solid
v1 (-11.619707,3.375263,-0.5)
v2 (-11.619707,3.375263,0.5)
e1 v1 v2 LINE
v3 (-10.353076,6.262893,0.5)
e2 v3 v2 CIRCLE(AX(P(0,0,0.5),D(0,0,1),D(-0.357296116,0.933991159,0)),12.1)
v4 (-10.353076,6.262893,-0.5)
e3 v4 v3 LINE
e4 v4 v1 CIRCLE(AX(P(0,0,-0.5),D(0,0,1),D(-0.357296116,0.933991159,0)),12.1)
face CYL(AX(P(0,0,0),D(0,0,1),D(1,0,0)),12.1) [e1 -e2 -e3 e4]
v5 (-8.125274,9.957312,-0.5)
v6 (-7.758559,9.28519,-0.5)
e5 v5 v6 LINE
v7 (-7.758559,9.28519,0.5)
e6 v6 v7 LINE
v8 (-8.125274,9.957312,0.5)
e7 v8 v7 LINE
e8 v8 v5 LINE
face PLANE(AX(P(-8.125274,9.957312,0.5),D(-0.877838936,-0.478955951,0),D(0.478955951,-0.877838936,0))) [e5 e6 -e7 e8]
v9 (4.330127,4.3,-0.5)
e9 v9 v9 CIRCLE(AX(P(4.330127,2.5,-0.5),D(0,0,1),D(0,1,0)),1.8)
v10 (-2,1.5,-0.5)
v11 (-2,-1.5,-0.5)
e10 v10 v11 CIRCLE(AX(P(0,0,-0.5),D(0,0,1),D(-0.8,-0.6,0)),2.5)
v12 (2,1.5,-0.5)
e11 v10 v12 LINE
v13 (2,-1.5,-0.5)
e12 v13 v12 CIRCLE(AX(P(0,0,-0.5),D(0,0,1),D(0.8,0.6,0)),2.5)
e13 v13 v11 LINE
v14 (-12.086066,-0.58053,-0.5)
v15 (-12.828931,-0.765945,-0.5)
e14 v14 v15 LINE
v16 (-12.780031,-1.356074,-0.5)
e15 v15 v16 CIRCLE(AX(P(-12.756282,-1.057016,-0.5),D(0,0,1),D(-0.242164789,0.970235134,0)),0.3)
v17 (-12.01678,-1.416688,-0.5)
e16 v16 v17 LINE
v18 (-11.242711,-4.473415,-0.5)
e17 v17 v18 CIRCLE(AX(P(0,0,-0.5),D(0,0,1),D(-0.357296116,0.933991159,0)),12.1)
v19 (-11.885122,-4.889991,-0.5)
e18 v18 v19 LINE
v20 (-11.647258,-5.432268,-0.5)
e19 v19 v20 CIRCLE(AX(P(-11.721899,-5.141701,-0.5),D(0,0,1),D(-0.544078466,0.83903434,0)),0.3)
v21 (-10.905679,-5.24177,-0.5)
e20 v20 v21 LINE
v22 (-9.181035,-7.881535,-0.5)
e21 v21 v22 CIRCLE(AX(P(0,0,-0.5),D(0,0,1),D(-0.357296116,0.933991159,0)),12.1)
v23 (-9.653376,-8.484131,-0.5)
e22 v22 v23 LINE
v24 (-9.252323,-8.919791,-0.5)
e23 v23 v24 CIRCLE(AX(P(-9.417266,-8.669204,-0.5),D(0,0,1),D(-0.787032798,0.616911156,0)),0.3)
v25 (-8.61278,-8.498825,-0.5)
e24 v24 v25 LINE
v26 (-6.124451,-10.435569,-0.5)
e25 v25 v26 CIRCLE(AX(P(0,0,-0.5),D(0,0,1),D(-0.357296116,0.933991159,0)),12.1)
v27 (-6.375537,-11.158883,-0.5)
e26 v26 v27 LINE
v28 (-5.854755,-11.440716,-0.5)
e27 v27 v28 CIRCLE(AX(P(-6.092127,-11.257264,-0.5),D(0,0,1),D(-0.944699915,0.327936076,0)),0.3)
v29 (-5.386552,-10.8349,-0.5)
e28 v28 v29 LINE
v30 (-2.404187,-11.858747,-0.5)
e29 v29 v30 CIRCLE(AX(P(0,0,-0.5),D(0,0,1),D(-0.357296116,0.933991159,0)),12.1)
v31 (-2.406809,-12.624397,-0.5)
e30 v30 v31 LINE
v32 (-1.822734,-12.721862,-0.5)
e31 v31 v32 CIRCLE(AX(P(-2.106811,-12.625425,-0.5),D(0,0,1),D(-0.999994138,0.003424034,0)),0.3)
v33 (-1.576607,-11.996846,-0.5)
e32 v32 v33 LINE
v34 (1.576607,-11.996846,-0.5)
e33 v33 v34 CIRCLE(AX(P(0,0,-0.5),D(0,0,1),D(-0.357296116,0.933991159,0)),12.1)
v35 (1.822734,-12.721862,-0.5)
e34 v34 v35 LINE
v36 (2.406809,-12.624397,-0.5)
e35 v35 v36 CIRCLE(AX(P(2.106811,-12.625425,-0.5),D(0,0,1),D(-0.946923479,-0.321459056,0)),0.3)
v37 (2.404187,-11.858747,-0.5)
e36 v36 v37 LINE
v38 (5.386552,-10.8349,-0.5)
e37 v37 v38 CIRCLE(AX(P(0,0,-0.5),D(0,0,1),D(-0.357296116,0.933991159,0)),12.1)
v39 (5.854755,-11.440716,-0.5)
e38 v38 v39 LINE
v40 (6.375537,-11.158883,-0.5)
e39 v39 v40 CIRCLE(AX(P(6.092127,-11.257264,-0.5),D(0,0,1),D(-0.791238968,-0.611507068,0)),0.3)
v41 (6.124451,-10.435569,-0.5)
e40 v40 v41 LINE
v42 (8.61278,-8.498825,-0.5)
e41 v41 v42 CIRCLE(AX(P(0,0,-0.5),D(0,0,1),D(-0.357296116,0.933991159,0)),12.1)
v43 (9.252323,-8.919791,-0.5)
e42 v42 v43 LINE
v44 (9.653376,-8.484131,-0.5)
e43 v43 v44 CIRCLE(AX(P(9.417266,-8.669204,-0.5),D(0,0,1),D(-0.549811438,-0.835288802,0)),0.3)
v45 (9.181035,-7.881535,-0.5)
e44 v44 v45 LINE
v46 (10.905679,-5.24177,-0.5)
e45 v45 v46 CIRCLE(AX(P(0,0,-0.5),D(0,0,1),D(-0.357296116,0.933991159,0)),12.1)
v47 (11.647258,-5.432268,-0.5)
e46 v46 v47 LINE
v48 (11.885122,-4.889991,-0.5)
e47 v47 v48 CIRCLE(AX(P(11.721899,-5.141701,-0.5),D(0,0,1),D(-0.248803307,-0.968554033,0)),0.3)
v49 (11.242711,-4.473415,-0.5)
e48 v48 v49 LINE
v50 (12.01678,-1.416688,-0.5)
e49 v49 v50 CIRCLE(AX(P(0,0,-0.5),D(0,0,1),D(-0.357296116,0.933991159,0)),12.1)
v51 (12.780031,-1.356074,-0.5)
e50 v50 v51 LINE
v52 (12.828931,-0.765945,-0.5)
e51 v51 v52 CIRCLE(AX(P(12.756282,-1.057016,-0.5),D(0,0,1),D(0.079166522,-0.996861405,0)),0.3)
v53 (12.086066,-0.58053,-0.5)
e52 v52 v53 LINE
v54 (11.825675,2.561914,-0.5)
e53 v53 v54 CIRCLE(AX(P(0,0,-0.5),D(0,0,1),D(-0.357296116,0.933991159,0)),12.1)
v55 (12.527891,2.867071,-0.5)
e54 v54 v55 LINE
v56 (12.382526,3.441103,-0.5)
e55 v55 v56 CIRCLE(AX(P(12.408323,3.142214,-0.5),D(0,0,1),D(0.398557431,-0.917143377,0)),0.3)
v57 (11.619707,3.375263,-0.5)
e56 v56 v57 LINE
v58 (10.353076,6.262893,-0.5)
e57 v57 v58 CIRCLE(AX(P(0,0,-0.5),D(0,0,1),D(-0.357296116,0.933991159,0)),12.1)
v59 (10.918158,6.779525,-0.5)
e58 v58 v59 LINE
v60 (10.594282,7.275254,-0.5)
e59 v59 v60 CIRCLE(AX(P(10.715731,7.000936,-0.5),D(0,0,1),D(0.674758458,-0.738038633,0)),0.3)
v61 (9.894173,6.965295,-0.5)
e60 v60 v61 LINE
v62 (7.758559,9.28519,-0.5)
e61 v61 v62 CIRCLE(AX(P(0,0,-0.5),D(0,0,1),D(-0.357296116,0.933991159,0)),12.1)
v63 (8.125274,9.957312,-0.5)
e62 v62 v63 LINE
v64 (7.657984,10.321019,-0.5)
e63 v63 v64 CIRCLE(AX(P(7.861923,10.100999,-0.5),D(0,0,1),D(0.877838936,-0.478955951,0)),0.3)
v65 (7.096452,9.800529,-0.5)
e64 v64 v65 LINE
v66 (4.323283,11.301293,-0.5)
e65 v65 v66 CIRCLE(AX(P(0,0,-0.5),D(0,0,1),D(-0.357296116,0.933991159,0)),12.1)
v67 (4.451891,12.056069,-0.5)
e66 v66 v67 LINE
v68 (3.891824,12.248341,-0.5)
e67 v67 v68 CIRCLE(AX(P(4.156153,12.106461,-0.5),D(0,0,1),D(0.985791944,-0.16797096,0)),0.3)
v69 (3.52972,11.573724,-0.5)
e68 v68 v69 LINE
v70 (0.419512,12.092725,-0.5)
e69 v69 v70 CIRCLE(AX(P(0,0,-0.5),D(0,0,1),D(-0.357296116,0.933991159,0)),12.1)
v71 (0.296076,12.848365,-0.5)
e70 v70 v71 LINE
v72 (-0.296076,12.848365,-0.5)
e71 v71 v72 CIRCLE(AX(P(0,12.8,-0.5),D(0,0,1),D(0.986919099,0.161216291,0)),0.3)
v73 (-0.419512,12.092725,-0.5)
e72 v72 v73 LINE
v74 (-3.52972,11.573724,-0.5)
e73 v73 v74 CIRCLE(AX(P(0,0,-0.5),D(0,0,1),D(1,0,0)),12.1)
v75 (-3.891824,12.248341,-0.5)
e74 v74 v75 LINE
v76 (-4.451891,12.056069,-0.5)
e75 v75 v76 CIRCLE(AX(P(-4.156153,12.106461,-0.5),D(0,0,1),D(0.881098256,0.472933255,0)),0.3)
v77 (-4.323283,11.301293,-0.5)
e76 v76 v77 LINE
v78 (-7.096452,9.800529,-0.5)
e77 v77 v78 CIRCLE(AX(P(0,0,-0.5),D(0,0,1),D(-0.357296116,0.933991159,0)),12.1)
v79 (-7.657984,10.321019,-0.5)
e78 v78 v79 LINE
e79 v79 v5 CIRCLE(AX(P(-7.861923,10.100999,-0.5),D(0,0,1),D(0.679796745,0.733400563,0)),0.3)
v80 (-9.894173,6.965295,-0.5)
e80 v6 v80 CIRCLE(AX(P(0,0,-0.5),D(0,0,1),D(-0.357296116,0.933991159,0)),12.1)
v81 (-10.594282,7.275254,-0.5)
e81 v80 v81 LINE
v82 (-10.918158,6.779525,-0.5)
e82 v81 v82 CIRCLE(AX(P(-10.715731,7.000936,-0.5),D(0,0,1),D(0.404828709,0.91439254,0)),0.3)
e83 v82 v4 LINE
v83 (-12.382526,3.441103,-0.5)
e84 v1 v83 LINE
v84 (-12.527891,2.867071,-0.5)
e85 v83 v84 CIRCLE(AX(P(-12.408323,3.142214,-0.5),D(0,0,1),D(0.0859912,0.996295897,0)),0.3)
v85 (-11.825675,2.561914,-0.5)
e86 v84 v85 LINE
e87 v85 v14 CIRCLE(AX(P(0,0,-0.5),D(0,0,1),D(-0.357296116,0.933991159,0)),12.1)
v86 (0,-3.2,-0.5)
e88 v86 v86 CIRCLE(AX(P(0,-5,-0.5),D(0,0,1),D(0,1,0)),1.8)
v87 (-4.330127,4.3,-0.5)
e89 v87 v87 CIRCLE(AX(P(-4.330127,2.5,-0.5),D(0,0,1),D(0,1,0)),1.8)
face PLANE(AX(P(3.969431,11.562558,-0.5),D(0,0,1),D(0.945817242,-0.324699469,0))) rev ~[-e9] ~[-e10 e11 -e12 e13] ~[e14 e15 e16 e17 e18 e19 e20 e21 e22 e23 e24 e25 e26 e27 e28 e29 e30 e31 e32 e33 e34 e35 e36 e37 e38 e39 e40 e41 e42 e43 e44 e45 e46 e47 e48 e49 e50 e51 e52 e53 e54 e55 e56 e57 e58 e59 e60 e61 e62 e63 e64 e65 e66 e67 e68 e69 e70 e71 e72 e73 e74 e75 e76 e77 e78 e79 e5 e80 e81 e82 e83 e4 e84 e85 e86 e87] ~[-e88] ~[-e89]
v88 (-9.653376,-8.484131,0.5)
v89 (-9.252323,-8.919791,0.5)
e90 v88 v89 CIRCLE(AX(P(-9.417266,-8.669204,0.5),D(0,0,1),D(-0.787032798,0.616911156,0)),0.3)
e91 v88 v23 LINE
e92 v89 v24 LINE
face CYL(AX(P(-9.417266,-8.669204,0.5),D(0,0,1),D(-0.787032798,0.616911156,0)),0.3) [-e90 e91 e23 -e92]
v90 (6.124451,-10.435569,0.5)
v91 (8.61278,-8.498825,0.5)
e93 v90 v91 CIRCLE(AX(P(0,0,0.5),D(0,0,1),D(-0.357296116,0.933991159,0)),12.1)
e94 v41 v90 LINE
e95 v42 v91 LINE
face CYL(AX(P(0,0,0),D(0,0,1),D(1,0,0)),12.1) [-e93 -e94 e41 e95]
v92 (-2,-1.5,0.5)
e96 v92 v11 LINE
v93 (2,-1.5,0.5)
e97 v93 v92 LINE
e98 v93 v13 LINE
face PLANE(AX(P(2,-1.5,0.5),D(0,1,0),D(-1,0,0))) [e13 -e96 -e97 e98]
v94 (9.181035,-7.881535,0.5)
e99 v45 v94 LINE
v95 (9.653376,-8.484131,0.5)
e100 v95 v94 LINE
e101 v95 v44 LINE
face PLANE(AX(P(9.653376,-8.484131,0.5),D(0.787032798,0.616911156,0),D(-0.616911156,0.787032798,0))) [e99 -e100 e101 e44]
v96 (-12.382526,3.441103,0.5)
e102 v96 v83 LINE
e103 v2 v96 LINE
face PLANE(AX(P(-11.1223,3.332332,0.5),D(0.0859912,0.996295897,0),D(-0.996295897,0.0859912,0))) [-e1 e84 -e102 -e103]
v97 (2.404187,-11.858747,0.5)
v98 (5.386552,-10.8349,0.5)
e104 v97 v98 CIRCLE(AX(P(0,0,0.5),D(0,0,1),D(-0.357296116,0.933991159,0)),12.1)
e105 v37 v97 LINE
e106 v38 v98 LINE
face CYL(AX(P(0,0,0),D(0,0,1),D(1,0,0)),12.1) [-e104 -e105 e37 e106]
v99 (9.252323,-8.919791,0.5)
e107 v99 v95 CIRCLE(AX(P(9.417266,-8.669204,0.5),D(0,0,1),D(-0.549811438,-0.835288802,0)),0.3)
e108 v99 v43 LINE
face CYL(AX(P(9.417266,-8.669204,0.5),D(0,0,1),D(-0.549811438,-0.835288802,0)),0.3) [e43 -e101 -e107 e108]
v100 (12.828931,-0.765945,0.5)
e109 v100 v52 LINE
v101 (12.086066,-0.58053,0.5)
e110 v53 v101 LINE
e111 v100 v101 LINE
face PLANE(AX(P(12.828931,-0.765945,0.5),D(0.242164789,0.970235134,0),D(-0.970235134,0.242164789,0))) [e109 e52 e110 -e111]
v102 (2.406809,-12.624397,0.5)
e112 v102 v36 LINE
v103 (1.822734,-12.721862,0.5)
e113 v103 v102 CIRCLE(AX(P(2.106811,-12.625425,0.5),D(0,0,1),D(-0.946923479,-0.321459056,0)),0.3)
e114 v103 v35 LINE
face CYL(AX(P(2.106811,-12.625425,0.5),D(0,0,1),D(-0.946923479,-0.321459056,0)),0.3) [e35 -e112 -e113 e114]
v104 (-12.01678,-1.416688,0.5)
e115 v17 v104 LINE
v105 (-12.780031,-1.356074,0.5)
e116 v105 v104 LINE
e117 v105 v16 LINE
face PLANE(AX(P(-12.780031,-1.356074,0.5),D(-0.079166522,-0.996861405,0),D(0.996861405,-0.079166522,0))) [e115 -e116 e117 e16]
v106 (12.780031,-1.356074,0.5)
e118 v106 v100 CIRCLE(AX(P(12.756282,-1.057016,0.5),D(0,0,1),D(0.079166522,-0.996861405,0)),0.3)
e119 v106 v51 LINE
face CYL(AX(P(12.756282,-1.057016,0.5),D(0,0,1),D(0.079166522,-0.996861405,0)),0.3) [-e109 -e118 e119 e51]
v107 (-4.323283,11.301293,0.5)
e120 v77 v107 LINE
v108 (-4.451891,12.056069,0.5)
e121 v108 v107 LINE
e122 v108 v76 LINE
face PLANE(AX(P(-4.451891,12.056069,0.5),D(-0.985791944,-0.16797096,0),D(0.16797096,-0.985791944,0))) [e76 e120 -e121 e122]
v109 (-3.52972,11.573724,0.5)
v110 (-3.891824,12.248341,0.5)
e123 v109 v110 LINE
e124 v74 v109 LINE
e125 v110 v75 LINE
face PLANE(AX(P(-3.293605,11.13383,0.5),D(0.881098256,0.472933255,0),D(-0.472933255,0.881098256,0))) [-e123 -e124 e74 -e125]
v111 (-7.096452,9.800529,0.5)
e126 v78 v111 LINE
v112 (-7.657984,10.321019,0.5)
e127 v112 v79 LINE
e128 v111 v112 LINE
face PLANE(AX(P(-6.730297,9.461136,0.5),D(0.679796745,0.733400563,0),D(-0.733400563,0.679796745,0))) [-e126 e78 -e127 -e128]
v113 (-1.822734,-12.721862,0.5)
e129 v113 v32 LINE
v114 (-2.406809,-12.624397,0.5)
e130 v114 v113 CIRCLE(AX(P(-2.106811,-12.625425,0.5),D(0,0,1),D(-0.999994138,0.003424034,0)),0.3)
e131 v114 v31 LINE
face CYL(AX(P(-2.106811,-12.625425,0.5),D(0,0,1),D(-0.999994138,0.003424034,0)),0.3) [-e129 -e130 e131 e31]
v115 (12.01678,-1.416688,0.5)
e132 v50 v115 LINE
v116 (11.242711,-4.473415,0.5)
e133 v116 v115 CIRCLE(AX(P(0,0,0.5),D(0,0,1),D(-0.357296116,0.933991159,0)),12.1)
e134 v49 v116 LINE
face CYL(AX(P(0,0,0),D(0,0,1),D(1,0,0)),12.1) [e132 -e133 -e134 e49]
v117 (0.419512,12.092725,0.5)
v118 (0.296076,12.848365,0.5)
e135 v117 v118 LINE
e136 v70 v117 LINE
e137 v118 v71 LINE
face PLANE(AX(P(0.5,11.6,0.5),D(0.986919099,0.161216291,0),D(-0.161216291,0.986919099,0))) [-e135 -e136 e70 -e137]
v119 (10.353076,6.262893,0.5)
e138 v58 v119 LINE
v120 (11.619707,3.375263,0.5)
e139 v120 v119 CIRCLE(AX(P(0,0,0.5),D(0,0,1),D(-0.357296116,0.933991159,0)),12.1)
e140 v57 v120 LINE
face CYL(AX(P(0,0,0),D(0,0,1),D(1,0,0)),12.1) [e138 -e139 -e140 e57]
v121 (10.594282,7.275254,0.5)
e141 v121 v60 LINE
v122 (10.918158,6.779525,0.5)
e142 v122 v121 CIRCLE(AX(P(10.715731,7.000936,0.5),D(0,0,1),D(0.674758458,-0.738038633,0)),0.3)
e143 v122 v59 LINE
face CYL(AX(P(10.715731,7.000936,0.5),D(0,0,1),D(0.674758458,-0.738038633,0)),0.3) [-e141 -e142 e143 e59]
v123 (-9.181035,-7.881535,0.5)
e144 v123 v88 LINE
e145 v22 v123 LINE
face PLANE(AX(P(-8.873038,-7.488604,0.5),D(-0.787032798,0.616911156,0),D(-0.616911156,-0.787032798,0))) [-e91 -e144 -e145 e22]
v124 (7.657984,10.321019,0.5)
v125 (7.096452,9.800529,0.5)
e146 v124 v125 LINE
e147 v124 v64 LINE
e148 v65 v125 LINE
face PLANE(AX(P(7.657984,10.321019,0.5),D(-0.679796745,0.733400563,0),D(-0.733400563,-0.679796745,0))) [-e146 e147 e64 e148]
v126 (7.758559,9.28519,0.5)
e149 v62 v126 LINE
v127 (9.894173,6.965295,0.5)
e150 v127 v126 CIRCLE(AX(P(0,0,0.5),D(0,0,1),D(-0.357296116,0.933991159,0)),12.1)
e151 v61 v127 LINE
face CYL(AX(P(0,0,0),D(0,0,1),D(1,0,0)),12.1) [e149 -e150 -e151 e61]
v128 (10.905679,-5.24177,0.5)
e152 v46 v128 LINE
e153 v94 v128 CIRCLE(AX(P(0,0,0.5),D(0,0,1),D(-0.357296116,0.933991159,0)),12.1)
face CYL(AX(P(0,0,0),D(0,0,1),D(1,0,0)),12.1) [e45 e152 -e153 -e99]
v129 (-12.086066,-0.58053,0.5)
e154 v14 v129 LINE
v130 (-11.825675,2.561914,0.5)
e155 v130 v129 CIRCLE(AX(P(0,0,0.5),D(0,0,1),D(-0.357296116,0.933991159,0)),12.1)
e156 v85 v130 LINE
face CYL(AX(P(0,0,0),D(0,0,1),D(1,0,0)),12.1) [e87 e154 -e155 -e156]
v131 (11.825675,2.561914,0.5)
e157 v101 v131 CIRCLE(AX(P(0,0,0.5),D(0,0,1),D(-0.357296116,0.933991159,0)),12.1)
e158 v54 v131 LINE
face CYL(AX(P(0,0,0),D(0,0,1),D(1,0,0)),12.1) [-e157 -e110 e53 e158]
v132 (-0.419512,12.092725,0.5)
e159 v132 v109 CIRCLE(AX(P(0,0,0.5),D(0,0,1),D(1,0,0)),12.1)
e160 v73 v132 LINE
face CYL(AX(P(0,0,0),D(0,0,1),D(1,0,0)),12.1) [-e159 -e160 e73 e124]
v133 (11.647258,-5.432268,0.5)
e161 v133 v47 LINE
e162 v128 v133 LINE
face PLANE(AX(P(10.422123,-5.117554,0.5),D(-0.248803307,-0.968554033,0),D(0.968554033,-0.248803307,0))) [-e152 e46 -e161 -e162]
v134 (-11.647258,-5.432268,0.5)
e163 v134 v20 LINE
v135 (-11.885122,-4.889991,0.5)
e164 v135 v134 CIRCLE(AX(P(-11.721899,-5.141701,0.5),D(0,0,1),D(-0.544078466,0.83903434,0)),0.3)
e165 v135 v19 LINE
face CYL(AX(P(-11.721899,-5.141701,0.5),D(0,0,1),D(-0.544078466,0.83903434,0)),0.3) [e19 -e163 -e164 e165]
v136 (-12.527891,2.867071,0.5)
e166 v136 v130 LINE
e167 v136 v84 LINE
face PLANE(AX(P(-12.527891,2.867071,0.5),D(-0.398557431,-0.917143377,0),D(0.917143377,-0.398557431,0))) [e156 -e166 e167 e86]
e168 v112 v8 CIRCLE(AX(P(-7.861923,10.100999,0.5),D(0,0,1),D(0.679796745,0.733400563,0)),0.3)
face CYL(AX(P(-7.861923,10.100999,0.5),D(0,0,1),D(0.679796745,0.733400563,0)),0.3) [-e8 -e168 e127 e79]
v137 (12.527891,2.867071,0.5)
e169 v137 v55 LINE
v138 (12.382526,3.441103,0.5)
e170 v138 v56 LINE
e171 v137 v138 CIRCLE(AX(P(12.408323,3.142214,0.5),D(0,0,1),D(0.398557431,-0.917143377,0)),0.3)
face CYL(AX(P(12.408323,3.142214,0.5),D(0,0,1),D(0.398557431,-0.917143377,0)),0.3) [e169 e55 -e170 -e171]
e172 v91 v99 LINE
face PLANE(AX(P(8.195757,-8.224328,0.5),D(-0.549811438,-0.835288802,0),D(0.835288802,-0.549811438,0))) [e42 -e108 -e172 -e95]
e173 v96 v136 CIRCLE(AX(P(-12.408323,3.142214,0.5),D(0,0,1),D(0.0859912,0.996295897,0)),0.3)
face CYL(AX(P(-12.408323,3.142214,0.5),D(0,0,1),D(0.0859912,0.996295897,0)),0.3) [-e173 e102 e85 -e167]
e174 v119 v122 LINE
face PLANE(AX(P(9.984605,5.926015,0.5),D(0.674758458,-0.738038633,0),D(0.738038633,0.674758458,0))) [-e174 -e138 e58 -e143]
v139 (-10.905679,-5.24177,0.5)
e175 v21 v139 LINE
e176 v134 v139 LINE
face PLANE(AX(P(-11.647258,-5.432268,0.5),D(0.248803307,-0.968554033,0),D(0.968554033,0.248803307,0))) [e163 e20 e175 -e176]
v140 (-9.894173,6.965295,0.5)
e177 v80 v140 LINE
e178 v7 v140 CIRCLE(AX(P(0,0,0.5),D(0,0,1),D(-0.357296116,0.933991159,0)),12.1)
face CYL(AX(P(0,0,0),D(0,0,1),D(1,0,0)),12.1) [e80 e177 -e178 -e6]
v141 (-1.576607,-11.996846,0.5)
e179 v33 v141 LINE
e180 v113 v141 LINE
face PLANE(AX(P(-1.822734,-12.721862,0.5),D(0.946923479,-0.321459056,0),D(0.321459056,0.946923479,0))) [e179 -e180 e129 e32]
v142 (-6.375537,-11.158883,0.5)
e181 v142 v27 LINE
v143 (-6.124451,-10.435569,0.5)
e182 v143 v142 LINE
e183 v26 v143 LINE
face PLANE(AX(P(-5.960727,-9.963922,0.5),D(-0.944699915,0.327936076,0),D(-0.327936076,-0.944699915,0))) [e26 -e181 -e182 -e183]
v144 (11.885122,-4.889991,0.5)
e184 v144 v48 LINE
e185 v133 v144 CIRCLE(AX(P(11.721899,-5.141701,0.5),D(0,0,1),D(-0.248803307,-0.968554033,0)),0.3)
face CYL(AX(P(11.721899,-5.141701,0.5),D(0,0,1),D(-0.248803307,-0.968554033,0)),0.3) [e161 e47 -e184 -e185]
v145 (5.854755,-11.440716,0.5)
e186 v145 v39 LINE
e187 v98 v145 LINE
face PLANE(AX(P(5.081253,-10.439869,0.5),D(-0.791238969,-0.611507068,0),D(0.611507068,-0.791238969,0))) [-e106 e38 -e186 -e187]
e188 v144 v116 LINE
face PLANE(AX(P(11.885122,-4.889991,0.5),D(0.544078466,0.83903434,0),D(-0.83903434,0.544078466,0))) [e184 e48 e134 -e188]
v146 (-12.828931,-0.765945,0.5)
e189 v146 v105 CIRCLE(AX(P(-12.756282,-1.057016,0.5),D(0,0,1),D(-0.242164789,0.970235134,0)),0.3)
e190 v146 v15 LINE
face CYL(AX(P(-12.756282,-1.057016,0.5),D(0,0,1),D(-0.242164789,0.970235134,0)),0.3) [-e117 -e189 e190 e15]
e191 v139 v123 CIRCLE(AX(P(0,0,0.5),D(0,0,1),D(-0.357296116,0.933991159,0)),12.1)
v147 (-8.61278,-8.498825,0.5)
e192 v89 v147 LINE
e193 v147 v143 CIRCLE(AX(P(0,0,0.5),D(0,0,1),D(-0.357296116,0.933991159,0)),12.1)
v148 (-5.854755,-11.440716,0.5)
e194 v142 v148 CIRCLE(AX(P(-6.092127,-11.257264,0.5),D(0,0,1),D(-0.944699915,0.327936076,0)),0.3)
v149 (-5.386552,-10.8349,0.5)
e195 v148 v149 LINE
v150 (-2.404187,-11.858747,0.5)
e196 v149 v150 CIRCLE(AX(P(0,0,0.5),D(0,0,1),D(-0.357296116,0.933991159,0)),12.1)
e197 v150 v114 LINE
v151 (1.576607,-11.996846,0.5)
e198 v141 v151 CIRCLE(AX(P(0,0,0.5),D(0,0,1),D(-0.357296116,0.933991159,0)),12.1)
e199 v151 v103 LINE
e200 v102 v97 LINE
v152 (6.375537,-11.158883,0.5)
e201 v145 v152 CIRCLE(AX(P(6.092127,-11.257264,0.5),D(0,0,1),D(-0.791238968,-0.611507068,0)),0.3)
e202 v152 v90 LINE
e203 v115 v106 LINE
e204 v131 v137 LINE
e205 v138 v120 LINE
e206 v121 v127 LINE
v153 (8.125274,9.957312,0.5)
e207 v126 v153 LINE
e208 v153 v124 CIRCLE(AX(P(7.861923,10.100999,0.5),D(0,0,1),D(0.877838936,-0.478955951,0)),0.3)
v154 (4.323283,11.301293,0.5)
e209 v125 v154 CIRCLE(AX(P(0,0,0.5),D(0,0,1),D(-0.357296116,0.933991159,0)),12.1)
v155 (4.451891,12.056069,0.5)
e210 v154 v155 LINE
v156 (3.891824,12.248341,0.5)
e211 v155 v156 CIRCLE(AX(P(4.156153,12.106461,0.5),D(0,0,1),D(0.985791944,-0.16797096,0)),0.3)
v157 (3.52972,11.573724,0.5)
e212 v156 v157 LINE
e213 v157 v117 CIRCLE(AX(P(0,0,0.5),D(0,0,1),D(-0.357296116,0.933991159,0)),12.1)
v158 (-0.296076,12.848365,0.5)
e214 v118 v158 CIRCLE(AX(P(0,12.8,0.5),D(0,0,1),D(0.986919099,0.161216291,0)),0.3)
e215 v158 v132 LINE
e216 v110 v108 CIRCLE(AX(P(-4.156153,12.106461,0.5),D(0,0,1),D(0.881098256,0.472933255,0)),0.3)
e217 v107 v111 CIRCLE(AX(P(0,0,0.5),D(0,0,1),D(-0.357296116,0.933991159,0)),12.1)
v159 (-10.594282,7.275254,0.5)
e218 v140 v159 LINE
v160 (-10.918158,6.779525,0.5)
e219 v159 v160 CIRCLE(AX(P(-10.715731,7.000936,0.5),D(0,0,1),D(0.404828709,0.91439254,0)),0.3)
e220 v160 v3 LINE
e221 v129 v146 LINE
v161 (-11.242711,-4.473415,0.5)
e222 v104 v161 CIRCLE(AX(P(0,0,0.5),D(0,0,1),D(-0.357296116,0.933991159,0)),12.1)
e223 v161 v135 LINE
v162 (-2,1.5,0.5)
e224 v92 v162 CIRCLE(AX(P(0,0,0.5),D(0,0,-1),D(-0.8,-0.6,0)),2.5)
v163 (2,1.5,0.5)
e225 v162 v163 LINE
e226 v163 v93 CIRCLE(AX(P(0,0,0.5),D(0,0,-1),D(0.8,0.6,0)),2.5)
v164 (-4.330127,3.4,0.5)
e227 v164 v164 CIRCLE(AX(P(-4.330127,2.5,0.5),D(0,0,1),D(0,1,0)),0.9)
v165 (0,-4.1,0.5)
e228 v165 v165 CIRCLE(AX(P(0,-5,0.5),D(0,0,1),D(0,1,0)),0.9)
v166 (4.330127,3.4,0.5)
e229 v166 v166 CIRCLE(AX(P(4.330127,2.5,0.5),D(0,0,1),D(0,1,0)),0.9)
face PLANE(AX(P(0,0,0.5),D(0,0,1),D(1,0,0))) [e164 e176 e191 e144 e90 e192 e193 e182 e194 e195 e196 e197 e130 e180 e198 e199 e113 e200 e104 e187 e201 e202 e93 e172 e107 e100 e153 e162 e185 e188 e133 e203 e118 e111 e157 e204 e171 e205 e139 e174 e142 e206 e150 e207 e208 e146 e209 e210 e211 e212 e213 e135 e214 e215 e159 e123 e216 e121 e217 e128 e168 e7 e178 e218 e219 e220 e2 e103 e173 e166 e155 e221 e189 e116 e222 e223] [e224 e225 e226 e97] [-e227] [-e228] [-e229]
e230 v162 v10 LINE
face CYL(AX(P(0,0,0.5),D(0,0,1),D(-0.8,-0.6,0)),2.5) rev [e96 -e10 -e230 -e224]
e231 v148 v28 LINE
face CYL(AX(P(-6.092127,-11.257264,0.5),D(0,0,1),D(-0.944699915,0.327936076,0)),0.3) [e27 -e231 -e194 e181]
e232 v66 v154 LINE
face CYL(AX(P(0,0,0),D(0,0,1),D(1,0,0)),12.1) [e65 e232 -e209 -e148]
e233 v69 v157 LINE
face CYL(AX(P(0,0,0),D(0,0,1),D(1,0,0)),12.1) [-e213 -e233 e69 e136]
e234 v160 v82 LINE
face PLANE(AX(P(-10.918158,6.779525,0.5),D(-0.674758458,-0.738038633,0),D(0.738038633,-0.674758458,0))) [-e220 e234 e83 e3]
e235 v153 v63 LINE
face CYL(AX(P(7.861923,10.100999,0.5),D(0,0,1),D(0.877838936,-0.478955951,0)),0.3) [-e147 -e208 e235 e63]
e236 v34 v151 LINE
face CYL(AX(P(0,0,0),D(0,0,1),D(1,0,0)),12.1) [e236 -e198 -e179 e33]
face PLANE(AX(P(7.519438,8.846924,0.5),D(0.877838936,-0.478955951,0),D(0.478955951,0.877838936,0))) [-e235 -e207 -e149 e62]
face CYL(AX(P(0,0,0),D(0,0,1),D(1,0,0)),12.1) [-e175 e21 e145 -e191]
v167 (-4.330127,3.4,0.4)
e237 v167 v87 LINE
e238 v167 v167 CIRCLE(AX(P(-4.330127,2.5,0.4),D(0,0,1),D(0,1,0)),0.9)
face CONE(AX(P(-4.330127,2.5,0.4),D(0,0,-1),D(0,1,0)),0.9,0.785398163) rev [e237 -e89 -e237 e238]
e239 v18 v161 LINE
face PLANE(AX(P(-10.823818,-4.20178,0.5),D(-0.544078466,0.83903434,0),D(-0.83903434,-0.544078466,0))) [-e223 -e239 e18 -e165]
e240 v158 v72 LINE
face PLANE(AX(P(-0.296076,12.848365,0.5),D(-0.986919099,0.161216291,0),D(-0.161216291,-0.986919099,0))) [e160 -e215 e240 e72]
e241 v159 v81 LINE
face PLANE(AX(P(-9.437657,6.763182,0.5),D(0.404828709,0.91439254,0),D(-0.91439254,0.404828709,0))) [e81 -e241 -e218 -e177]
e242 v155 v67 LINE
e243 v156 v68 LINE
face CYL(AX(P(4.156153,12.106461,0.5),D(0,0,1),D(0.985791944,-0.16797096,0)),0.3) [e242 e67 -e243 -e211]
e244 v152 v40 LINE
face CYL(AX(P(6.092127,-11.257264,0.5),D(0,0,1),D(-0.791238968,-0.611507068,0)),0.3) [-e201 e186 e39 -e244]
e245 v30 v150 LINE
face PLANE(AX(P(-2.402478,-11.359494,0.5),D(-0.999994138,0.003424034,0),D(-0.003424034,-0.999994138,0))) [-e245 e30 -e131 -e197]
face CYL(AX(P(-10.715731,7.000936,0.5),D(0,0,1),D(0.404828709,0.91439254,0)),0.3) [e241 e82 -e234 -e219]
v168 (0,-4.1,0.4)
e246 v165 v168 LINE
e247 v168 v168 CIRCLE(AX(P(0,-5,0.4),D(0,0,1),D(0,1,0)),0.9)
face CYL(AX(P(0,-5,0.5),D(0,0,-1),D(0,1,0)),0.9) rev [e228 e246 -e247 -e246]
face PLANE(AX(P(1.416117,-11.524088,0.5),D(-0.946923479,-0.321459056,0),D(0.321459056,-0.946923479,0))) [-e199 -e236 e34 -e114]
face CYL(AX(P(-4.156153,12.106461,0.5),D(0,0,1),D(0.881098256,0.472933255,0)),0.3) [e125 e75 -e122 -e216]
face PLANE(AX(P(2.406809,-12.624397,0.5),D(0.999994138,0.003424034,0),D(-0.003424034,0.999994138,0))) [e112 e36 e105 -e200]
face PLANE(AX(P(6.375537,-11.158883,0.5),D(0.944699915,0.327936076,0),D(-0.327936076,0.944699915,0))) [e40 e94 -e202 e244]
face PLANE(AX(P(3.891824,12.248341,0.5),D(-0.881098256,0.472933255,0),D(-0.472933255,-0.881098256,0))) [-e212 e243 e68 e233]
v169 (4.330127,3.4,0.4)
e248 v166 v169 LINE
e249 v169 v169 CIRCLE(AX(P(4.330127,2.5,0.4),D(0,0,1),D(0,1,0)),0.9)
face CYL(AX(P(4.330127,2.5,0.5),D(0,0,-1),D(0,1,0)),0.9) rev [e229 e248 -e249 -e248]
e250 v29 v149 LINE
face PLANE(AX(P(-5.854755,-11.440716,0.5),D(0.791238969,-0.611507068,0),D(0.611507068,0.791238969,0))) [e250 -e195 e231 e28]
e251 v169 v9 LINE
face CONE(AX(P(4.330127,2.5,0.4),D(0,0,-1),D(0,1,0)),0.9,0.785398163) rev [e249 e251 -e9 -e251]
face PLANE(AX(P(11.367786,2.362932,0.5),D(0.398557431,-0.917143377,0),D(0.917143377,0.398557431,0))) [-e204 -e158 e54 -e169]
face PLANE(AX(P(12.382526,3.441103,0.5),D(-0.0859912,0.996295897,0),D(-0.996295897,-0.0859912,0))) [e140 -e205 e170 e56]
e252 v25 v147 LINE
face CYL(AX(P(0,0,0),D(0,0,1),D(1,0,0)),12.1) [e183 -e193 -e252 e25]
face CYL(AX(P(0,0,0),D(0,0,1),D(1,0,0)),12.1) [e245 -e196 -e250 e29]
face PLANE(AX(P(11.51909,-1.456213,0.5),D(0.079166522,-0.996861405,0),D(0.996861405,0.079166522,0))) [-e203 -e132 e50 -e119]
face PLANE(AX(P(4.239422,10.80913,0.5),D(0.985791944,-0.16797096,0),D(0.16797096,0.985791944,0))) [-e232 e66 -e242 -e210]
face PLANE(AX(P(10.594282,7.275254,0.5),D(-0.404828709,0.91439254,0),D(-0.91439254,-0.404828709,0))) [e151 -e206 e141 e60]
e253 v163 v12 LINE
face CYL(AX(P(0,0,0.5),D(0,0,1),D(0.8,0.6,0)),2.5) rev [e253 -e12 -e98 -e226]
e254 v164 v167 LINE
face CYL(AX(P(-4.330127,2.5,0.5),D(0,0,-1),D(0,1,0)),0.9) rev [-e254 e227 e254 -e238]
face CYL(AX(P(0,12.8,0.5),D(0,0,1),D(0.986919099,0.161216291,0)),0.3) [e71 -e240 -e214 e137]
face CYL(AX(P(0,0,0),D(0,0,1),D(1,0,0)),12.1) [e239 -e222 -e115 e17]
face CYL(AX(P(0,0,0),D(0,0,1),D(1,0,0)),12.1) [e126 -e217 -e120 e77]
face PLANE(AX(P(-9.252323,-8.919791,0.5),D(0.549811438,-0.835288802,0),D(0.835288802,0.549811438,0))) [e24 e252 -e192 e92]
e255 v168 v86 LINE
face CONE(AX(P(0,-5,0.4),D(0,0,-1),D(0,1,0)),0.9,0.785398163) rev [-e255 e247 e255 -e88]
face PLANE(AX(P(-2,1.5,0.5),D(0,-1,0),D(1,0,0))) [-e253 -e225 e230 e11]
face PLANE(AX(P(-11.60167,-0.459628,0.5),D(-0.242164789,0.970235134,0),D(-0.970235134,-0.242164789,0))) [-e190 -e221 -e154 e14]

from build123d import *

# Parameters (mm, degrees)
MODEL_R                     = 12.1
EXTRUDE_318_DEPTH           = 0.5
CUT_EXTRUDE_1_DEPTH         = 18.141178489
EXTRUDE_892_DEPTH           = 1
PATTERN_CIRCULAR_946_COUNT  = 19
HOLE_WIZARD_M1_6_AT_2_COUNT = 2
HOLE_WIZARD_M1_6_AT_2_PITCH = 8.660254038
HOLE_WIZARD_M1_6_AT_3_COUNT = 2
HOLE_WIZARD_M1_6_AT_3_PITCH = 8.660254038


with BuildPart() as part:
    # Model → Extrude 318 (new, symmetric)
    with BuildSketch(Plane.XY):
        Circle(MODEL_R)
    extrude(amount=EXTRUDE_318_DEPTH, both=True)

    # Эскиз3 → Вырез-Вытянуть1 (cut, through all)
    with BuildSketch(Plane.XY.offset(0.5)):
        with BuildLine():
            Line((2, -1.5), (-2, -1.5))
            ThreePointArc((-2, -1.5), (-2.5, 0), (-2, 1.5))
            Line((-2, 1.5), (2, 1.5))
            ThreePointArc((2, 1.5), (2.5, 0), (2, -1.5))
        make_face()
    extrude(amount=-CUT_EXTRUDE_1_DEPTH, mode=Mode.SUBTRACT)

    # Эскиз4 → Extrude 892 (add)
    with BuildSketch(Plane.XY.offset(0.5)):
        with BuildLine():
            Line((-0.5, 11.6), (0.5, 11.6))
            Line((0.5, 11.6), (0.29607573, 12.848364887))
            ThreePointArc((0.29607573, 12.848364887), (0, 13.1), (-0.29607573, 12.848364887))
            Line((-0.29607573, 12.848364887), (-0.5, 11.6))
        make_face()
    extrude_892 = extrude(amount=-EXTRUDE_892_DEPTH)

    # Pattern Circular 946: Extrude 892 ×19 about axis
    pattern_circular_946_axis = Axis((0, 0, 0), (0, 0, 1))
    for i in range(1, PATTERN_CIRCULAR_946_COUNT):
        add(extrude_892.rotate(pattern_circular_946_axis, i * 360 / PATTERN_CIRCULAR_946_COUNT))

    # Эскиз6 → Крепление шестерни M1.6 (revolve, cut)
    with BuildSketch(Plane(origin=(4.330127019, 2.5, -0.5), x_dir=(0, 1, 0), z_dir=(1, 0, 0))):
        Polygon((0, 0), (0, 1), (0.9, 1), (0.9, 0.9), (1.8, 0), align=None)
    hole_wizard_m1_6 = revolve(axis=Axis((4.330127019, 2.5, -6.85), (0, 0, 1)), mode=Mode.SUBTRACT)

    # Крепление шестерни M1.6 at 2: Крепление шестерни M1.6 ×2
    with Locations(*[Vector(-0.49999999999999795, -0.8660254037844399, 0) * (i * HOLE_WIZARD_M1_6_AT_2_PITCH) for i in range(1, HOLE_WIZARD_M1_6_AT_2_COUNT)]):
        add(hole_wizard_m1_6, mode=Mode.SUBTRACT)

    # Крепление шестерни M1.6 at 3: Крепление шестерни M1.6 ×2
    with Locations(*[(-i * HOLE_WIZARD_M1_6_AT_3_PITCH, 0, 0) for i in range(1, HOLE_WIZARD_M1_6_AT_3_COUNT)]):
        add(hole_wizard_m1_6, mode=Mode.SUBTRACT)


solid = part.part
